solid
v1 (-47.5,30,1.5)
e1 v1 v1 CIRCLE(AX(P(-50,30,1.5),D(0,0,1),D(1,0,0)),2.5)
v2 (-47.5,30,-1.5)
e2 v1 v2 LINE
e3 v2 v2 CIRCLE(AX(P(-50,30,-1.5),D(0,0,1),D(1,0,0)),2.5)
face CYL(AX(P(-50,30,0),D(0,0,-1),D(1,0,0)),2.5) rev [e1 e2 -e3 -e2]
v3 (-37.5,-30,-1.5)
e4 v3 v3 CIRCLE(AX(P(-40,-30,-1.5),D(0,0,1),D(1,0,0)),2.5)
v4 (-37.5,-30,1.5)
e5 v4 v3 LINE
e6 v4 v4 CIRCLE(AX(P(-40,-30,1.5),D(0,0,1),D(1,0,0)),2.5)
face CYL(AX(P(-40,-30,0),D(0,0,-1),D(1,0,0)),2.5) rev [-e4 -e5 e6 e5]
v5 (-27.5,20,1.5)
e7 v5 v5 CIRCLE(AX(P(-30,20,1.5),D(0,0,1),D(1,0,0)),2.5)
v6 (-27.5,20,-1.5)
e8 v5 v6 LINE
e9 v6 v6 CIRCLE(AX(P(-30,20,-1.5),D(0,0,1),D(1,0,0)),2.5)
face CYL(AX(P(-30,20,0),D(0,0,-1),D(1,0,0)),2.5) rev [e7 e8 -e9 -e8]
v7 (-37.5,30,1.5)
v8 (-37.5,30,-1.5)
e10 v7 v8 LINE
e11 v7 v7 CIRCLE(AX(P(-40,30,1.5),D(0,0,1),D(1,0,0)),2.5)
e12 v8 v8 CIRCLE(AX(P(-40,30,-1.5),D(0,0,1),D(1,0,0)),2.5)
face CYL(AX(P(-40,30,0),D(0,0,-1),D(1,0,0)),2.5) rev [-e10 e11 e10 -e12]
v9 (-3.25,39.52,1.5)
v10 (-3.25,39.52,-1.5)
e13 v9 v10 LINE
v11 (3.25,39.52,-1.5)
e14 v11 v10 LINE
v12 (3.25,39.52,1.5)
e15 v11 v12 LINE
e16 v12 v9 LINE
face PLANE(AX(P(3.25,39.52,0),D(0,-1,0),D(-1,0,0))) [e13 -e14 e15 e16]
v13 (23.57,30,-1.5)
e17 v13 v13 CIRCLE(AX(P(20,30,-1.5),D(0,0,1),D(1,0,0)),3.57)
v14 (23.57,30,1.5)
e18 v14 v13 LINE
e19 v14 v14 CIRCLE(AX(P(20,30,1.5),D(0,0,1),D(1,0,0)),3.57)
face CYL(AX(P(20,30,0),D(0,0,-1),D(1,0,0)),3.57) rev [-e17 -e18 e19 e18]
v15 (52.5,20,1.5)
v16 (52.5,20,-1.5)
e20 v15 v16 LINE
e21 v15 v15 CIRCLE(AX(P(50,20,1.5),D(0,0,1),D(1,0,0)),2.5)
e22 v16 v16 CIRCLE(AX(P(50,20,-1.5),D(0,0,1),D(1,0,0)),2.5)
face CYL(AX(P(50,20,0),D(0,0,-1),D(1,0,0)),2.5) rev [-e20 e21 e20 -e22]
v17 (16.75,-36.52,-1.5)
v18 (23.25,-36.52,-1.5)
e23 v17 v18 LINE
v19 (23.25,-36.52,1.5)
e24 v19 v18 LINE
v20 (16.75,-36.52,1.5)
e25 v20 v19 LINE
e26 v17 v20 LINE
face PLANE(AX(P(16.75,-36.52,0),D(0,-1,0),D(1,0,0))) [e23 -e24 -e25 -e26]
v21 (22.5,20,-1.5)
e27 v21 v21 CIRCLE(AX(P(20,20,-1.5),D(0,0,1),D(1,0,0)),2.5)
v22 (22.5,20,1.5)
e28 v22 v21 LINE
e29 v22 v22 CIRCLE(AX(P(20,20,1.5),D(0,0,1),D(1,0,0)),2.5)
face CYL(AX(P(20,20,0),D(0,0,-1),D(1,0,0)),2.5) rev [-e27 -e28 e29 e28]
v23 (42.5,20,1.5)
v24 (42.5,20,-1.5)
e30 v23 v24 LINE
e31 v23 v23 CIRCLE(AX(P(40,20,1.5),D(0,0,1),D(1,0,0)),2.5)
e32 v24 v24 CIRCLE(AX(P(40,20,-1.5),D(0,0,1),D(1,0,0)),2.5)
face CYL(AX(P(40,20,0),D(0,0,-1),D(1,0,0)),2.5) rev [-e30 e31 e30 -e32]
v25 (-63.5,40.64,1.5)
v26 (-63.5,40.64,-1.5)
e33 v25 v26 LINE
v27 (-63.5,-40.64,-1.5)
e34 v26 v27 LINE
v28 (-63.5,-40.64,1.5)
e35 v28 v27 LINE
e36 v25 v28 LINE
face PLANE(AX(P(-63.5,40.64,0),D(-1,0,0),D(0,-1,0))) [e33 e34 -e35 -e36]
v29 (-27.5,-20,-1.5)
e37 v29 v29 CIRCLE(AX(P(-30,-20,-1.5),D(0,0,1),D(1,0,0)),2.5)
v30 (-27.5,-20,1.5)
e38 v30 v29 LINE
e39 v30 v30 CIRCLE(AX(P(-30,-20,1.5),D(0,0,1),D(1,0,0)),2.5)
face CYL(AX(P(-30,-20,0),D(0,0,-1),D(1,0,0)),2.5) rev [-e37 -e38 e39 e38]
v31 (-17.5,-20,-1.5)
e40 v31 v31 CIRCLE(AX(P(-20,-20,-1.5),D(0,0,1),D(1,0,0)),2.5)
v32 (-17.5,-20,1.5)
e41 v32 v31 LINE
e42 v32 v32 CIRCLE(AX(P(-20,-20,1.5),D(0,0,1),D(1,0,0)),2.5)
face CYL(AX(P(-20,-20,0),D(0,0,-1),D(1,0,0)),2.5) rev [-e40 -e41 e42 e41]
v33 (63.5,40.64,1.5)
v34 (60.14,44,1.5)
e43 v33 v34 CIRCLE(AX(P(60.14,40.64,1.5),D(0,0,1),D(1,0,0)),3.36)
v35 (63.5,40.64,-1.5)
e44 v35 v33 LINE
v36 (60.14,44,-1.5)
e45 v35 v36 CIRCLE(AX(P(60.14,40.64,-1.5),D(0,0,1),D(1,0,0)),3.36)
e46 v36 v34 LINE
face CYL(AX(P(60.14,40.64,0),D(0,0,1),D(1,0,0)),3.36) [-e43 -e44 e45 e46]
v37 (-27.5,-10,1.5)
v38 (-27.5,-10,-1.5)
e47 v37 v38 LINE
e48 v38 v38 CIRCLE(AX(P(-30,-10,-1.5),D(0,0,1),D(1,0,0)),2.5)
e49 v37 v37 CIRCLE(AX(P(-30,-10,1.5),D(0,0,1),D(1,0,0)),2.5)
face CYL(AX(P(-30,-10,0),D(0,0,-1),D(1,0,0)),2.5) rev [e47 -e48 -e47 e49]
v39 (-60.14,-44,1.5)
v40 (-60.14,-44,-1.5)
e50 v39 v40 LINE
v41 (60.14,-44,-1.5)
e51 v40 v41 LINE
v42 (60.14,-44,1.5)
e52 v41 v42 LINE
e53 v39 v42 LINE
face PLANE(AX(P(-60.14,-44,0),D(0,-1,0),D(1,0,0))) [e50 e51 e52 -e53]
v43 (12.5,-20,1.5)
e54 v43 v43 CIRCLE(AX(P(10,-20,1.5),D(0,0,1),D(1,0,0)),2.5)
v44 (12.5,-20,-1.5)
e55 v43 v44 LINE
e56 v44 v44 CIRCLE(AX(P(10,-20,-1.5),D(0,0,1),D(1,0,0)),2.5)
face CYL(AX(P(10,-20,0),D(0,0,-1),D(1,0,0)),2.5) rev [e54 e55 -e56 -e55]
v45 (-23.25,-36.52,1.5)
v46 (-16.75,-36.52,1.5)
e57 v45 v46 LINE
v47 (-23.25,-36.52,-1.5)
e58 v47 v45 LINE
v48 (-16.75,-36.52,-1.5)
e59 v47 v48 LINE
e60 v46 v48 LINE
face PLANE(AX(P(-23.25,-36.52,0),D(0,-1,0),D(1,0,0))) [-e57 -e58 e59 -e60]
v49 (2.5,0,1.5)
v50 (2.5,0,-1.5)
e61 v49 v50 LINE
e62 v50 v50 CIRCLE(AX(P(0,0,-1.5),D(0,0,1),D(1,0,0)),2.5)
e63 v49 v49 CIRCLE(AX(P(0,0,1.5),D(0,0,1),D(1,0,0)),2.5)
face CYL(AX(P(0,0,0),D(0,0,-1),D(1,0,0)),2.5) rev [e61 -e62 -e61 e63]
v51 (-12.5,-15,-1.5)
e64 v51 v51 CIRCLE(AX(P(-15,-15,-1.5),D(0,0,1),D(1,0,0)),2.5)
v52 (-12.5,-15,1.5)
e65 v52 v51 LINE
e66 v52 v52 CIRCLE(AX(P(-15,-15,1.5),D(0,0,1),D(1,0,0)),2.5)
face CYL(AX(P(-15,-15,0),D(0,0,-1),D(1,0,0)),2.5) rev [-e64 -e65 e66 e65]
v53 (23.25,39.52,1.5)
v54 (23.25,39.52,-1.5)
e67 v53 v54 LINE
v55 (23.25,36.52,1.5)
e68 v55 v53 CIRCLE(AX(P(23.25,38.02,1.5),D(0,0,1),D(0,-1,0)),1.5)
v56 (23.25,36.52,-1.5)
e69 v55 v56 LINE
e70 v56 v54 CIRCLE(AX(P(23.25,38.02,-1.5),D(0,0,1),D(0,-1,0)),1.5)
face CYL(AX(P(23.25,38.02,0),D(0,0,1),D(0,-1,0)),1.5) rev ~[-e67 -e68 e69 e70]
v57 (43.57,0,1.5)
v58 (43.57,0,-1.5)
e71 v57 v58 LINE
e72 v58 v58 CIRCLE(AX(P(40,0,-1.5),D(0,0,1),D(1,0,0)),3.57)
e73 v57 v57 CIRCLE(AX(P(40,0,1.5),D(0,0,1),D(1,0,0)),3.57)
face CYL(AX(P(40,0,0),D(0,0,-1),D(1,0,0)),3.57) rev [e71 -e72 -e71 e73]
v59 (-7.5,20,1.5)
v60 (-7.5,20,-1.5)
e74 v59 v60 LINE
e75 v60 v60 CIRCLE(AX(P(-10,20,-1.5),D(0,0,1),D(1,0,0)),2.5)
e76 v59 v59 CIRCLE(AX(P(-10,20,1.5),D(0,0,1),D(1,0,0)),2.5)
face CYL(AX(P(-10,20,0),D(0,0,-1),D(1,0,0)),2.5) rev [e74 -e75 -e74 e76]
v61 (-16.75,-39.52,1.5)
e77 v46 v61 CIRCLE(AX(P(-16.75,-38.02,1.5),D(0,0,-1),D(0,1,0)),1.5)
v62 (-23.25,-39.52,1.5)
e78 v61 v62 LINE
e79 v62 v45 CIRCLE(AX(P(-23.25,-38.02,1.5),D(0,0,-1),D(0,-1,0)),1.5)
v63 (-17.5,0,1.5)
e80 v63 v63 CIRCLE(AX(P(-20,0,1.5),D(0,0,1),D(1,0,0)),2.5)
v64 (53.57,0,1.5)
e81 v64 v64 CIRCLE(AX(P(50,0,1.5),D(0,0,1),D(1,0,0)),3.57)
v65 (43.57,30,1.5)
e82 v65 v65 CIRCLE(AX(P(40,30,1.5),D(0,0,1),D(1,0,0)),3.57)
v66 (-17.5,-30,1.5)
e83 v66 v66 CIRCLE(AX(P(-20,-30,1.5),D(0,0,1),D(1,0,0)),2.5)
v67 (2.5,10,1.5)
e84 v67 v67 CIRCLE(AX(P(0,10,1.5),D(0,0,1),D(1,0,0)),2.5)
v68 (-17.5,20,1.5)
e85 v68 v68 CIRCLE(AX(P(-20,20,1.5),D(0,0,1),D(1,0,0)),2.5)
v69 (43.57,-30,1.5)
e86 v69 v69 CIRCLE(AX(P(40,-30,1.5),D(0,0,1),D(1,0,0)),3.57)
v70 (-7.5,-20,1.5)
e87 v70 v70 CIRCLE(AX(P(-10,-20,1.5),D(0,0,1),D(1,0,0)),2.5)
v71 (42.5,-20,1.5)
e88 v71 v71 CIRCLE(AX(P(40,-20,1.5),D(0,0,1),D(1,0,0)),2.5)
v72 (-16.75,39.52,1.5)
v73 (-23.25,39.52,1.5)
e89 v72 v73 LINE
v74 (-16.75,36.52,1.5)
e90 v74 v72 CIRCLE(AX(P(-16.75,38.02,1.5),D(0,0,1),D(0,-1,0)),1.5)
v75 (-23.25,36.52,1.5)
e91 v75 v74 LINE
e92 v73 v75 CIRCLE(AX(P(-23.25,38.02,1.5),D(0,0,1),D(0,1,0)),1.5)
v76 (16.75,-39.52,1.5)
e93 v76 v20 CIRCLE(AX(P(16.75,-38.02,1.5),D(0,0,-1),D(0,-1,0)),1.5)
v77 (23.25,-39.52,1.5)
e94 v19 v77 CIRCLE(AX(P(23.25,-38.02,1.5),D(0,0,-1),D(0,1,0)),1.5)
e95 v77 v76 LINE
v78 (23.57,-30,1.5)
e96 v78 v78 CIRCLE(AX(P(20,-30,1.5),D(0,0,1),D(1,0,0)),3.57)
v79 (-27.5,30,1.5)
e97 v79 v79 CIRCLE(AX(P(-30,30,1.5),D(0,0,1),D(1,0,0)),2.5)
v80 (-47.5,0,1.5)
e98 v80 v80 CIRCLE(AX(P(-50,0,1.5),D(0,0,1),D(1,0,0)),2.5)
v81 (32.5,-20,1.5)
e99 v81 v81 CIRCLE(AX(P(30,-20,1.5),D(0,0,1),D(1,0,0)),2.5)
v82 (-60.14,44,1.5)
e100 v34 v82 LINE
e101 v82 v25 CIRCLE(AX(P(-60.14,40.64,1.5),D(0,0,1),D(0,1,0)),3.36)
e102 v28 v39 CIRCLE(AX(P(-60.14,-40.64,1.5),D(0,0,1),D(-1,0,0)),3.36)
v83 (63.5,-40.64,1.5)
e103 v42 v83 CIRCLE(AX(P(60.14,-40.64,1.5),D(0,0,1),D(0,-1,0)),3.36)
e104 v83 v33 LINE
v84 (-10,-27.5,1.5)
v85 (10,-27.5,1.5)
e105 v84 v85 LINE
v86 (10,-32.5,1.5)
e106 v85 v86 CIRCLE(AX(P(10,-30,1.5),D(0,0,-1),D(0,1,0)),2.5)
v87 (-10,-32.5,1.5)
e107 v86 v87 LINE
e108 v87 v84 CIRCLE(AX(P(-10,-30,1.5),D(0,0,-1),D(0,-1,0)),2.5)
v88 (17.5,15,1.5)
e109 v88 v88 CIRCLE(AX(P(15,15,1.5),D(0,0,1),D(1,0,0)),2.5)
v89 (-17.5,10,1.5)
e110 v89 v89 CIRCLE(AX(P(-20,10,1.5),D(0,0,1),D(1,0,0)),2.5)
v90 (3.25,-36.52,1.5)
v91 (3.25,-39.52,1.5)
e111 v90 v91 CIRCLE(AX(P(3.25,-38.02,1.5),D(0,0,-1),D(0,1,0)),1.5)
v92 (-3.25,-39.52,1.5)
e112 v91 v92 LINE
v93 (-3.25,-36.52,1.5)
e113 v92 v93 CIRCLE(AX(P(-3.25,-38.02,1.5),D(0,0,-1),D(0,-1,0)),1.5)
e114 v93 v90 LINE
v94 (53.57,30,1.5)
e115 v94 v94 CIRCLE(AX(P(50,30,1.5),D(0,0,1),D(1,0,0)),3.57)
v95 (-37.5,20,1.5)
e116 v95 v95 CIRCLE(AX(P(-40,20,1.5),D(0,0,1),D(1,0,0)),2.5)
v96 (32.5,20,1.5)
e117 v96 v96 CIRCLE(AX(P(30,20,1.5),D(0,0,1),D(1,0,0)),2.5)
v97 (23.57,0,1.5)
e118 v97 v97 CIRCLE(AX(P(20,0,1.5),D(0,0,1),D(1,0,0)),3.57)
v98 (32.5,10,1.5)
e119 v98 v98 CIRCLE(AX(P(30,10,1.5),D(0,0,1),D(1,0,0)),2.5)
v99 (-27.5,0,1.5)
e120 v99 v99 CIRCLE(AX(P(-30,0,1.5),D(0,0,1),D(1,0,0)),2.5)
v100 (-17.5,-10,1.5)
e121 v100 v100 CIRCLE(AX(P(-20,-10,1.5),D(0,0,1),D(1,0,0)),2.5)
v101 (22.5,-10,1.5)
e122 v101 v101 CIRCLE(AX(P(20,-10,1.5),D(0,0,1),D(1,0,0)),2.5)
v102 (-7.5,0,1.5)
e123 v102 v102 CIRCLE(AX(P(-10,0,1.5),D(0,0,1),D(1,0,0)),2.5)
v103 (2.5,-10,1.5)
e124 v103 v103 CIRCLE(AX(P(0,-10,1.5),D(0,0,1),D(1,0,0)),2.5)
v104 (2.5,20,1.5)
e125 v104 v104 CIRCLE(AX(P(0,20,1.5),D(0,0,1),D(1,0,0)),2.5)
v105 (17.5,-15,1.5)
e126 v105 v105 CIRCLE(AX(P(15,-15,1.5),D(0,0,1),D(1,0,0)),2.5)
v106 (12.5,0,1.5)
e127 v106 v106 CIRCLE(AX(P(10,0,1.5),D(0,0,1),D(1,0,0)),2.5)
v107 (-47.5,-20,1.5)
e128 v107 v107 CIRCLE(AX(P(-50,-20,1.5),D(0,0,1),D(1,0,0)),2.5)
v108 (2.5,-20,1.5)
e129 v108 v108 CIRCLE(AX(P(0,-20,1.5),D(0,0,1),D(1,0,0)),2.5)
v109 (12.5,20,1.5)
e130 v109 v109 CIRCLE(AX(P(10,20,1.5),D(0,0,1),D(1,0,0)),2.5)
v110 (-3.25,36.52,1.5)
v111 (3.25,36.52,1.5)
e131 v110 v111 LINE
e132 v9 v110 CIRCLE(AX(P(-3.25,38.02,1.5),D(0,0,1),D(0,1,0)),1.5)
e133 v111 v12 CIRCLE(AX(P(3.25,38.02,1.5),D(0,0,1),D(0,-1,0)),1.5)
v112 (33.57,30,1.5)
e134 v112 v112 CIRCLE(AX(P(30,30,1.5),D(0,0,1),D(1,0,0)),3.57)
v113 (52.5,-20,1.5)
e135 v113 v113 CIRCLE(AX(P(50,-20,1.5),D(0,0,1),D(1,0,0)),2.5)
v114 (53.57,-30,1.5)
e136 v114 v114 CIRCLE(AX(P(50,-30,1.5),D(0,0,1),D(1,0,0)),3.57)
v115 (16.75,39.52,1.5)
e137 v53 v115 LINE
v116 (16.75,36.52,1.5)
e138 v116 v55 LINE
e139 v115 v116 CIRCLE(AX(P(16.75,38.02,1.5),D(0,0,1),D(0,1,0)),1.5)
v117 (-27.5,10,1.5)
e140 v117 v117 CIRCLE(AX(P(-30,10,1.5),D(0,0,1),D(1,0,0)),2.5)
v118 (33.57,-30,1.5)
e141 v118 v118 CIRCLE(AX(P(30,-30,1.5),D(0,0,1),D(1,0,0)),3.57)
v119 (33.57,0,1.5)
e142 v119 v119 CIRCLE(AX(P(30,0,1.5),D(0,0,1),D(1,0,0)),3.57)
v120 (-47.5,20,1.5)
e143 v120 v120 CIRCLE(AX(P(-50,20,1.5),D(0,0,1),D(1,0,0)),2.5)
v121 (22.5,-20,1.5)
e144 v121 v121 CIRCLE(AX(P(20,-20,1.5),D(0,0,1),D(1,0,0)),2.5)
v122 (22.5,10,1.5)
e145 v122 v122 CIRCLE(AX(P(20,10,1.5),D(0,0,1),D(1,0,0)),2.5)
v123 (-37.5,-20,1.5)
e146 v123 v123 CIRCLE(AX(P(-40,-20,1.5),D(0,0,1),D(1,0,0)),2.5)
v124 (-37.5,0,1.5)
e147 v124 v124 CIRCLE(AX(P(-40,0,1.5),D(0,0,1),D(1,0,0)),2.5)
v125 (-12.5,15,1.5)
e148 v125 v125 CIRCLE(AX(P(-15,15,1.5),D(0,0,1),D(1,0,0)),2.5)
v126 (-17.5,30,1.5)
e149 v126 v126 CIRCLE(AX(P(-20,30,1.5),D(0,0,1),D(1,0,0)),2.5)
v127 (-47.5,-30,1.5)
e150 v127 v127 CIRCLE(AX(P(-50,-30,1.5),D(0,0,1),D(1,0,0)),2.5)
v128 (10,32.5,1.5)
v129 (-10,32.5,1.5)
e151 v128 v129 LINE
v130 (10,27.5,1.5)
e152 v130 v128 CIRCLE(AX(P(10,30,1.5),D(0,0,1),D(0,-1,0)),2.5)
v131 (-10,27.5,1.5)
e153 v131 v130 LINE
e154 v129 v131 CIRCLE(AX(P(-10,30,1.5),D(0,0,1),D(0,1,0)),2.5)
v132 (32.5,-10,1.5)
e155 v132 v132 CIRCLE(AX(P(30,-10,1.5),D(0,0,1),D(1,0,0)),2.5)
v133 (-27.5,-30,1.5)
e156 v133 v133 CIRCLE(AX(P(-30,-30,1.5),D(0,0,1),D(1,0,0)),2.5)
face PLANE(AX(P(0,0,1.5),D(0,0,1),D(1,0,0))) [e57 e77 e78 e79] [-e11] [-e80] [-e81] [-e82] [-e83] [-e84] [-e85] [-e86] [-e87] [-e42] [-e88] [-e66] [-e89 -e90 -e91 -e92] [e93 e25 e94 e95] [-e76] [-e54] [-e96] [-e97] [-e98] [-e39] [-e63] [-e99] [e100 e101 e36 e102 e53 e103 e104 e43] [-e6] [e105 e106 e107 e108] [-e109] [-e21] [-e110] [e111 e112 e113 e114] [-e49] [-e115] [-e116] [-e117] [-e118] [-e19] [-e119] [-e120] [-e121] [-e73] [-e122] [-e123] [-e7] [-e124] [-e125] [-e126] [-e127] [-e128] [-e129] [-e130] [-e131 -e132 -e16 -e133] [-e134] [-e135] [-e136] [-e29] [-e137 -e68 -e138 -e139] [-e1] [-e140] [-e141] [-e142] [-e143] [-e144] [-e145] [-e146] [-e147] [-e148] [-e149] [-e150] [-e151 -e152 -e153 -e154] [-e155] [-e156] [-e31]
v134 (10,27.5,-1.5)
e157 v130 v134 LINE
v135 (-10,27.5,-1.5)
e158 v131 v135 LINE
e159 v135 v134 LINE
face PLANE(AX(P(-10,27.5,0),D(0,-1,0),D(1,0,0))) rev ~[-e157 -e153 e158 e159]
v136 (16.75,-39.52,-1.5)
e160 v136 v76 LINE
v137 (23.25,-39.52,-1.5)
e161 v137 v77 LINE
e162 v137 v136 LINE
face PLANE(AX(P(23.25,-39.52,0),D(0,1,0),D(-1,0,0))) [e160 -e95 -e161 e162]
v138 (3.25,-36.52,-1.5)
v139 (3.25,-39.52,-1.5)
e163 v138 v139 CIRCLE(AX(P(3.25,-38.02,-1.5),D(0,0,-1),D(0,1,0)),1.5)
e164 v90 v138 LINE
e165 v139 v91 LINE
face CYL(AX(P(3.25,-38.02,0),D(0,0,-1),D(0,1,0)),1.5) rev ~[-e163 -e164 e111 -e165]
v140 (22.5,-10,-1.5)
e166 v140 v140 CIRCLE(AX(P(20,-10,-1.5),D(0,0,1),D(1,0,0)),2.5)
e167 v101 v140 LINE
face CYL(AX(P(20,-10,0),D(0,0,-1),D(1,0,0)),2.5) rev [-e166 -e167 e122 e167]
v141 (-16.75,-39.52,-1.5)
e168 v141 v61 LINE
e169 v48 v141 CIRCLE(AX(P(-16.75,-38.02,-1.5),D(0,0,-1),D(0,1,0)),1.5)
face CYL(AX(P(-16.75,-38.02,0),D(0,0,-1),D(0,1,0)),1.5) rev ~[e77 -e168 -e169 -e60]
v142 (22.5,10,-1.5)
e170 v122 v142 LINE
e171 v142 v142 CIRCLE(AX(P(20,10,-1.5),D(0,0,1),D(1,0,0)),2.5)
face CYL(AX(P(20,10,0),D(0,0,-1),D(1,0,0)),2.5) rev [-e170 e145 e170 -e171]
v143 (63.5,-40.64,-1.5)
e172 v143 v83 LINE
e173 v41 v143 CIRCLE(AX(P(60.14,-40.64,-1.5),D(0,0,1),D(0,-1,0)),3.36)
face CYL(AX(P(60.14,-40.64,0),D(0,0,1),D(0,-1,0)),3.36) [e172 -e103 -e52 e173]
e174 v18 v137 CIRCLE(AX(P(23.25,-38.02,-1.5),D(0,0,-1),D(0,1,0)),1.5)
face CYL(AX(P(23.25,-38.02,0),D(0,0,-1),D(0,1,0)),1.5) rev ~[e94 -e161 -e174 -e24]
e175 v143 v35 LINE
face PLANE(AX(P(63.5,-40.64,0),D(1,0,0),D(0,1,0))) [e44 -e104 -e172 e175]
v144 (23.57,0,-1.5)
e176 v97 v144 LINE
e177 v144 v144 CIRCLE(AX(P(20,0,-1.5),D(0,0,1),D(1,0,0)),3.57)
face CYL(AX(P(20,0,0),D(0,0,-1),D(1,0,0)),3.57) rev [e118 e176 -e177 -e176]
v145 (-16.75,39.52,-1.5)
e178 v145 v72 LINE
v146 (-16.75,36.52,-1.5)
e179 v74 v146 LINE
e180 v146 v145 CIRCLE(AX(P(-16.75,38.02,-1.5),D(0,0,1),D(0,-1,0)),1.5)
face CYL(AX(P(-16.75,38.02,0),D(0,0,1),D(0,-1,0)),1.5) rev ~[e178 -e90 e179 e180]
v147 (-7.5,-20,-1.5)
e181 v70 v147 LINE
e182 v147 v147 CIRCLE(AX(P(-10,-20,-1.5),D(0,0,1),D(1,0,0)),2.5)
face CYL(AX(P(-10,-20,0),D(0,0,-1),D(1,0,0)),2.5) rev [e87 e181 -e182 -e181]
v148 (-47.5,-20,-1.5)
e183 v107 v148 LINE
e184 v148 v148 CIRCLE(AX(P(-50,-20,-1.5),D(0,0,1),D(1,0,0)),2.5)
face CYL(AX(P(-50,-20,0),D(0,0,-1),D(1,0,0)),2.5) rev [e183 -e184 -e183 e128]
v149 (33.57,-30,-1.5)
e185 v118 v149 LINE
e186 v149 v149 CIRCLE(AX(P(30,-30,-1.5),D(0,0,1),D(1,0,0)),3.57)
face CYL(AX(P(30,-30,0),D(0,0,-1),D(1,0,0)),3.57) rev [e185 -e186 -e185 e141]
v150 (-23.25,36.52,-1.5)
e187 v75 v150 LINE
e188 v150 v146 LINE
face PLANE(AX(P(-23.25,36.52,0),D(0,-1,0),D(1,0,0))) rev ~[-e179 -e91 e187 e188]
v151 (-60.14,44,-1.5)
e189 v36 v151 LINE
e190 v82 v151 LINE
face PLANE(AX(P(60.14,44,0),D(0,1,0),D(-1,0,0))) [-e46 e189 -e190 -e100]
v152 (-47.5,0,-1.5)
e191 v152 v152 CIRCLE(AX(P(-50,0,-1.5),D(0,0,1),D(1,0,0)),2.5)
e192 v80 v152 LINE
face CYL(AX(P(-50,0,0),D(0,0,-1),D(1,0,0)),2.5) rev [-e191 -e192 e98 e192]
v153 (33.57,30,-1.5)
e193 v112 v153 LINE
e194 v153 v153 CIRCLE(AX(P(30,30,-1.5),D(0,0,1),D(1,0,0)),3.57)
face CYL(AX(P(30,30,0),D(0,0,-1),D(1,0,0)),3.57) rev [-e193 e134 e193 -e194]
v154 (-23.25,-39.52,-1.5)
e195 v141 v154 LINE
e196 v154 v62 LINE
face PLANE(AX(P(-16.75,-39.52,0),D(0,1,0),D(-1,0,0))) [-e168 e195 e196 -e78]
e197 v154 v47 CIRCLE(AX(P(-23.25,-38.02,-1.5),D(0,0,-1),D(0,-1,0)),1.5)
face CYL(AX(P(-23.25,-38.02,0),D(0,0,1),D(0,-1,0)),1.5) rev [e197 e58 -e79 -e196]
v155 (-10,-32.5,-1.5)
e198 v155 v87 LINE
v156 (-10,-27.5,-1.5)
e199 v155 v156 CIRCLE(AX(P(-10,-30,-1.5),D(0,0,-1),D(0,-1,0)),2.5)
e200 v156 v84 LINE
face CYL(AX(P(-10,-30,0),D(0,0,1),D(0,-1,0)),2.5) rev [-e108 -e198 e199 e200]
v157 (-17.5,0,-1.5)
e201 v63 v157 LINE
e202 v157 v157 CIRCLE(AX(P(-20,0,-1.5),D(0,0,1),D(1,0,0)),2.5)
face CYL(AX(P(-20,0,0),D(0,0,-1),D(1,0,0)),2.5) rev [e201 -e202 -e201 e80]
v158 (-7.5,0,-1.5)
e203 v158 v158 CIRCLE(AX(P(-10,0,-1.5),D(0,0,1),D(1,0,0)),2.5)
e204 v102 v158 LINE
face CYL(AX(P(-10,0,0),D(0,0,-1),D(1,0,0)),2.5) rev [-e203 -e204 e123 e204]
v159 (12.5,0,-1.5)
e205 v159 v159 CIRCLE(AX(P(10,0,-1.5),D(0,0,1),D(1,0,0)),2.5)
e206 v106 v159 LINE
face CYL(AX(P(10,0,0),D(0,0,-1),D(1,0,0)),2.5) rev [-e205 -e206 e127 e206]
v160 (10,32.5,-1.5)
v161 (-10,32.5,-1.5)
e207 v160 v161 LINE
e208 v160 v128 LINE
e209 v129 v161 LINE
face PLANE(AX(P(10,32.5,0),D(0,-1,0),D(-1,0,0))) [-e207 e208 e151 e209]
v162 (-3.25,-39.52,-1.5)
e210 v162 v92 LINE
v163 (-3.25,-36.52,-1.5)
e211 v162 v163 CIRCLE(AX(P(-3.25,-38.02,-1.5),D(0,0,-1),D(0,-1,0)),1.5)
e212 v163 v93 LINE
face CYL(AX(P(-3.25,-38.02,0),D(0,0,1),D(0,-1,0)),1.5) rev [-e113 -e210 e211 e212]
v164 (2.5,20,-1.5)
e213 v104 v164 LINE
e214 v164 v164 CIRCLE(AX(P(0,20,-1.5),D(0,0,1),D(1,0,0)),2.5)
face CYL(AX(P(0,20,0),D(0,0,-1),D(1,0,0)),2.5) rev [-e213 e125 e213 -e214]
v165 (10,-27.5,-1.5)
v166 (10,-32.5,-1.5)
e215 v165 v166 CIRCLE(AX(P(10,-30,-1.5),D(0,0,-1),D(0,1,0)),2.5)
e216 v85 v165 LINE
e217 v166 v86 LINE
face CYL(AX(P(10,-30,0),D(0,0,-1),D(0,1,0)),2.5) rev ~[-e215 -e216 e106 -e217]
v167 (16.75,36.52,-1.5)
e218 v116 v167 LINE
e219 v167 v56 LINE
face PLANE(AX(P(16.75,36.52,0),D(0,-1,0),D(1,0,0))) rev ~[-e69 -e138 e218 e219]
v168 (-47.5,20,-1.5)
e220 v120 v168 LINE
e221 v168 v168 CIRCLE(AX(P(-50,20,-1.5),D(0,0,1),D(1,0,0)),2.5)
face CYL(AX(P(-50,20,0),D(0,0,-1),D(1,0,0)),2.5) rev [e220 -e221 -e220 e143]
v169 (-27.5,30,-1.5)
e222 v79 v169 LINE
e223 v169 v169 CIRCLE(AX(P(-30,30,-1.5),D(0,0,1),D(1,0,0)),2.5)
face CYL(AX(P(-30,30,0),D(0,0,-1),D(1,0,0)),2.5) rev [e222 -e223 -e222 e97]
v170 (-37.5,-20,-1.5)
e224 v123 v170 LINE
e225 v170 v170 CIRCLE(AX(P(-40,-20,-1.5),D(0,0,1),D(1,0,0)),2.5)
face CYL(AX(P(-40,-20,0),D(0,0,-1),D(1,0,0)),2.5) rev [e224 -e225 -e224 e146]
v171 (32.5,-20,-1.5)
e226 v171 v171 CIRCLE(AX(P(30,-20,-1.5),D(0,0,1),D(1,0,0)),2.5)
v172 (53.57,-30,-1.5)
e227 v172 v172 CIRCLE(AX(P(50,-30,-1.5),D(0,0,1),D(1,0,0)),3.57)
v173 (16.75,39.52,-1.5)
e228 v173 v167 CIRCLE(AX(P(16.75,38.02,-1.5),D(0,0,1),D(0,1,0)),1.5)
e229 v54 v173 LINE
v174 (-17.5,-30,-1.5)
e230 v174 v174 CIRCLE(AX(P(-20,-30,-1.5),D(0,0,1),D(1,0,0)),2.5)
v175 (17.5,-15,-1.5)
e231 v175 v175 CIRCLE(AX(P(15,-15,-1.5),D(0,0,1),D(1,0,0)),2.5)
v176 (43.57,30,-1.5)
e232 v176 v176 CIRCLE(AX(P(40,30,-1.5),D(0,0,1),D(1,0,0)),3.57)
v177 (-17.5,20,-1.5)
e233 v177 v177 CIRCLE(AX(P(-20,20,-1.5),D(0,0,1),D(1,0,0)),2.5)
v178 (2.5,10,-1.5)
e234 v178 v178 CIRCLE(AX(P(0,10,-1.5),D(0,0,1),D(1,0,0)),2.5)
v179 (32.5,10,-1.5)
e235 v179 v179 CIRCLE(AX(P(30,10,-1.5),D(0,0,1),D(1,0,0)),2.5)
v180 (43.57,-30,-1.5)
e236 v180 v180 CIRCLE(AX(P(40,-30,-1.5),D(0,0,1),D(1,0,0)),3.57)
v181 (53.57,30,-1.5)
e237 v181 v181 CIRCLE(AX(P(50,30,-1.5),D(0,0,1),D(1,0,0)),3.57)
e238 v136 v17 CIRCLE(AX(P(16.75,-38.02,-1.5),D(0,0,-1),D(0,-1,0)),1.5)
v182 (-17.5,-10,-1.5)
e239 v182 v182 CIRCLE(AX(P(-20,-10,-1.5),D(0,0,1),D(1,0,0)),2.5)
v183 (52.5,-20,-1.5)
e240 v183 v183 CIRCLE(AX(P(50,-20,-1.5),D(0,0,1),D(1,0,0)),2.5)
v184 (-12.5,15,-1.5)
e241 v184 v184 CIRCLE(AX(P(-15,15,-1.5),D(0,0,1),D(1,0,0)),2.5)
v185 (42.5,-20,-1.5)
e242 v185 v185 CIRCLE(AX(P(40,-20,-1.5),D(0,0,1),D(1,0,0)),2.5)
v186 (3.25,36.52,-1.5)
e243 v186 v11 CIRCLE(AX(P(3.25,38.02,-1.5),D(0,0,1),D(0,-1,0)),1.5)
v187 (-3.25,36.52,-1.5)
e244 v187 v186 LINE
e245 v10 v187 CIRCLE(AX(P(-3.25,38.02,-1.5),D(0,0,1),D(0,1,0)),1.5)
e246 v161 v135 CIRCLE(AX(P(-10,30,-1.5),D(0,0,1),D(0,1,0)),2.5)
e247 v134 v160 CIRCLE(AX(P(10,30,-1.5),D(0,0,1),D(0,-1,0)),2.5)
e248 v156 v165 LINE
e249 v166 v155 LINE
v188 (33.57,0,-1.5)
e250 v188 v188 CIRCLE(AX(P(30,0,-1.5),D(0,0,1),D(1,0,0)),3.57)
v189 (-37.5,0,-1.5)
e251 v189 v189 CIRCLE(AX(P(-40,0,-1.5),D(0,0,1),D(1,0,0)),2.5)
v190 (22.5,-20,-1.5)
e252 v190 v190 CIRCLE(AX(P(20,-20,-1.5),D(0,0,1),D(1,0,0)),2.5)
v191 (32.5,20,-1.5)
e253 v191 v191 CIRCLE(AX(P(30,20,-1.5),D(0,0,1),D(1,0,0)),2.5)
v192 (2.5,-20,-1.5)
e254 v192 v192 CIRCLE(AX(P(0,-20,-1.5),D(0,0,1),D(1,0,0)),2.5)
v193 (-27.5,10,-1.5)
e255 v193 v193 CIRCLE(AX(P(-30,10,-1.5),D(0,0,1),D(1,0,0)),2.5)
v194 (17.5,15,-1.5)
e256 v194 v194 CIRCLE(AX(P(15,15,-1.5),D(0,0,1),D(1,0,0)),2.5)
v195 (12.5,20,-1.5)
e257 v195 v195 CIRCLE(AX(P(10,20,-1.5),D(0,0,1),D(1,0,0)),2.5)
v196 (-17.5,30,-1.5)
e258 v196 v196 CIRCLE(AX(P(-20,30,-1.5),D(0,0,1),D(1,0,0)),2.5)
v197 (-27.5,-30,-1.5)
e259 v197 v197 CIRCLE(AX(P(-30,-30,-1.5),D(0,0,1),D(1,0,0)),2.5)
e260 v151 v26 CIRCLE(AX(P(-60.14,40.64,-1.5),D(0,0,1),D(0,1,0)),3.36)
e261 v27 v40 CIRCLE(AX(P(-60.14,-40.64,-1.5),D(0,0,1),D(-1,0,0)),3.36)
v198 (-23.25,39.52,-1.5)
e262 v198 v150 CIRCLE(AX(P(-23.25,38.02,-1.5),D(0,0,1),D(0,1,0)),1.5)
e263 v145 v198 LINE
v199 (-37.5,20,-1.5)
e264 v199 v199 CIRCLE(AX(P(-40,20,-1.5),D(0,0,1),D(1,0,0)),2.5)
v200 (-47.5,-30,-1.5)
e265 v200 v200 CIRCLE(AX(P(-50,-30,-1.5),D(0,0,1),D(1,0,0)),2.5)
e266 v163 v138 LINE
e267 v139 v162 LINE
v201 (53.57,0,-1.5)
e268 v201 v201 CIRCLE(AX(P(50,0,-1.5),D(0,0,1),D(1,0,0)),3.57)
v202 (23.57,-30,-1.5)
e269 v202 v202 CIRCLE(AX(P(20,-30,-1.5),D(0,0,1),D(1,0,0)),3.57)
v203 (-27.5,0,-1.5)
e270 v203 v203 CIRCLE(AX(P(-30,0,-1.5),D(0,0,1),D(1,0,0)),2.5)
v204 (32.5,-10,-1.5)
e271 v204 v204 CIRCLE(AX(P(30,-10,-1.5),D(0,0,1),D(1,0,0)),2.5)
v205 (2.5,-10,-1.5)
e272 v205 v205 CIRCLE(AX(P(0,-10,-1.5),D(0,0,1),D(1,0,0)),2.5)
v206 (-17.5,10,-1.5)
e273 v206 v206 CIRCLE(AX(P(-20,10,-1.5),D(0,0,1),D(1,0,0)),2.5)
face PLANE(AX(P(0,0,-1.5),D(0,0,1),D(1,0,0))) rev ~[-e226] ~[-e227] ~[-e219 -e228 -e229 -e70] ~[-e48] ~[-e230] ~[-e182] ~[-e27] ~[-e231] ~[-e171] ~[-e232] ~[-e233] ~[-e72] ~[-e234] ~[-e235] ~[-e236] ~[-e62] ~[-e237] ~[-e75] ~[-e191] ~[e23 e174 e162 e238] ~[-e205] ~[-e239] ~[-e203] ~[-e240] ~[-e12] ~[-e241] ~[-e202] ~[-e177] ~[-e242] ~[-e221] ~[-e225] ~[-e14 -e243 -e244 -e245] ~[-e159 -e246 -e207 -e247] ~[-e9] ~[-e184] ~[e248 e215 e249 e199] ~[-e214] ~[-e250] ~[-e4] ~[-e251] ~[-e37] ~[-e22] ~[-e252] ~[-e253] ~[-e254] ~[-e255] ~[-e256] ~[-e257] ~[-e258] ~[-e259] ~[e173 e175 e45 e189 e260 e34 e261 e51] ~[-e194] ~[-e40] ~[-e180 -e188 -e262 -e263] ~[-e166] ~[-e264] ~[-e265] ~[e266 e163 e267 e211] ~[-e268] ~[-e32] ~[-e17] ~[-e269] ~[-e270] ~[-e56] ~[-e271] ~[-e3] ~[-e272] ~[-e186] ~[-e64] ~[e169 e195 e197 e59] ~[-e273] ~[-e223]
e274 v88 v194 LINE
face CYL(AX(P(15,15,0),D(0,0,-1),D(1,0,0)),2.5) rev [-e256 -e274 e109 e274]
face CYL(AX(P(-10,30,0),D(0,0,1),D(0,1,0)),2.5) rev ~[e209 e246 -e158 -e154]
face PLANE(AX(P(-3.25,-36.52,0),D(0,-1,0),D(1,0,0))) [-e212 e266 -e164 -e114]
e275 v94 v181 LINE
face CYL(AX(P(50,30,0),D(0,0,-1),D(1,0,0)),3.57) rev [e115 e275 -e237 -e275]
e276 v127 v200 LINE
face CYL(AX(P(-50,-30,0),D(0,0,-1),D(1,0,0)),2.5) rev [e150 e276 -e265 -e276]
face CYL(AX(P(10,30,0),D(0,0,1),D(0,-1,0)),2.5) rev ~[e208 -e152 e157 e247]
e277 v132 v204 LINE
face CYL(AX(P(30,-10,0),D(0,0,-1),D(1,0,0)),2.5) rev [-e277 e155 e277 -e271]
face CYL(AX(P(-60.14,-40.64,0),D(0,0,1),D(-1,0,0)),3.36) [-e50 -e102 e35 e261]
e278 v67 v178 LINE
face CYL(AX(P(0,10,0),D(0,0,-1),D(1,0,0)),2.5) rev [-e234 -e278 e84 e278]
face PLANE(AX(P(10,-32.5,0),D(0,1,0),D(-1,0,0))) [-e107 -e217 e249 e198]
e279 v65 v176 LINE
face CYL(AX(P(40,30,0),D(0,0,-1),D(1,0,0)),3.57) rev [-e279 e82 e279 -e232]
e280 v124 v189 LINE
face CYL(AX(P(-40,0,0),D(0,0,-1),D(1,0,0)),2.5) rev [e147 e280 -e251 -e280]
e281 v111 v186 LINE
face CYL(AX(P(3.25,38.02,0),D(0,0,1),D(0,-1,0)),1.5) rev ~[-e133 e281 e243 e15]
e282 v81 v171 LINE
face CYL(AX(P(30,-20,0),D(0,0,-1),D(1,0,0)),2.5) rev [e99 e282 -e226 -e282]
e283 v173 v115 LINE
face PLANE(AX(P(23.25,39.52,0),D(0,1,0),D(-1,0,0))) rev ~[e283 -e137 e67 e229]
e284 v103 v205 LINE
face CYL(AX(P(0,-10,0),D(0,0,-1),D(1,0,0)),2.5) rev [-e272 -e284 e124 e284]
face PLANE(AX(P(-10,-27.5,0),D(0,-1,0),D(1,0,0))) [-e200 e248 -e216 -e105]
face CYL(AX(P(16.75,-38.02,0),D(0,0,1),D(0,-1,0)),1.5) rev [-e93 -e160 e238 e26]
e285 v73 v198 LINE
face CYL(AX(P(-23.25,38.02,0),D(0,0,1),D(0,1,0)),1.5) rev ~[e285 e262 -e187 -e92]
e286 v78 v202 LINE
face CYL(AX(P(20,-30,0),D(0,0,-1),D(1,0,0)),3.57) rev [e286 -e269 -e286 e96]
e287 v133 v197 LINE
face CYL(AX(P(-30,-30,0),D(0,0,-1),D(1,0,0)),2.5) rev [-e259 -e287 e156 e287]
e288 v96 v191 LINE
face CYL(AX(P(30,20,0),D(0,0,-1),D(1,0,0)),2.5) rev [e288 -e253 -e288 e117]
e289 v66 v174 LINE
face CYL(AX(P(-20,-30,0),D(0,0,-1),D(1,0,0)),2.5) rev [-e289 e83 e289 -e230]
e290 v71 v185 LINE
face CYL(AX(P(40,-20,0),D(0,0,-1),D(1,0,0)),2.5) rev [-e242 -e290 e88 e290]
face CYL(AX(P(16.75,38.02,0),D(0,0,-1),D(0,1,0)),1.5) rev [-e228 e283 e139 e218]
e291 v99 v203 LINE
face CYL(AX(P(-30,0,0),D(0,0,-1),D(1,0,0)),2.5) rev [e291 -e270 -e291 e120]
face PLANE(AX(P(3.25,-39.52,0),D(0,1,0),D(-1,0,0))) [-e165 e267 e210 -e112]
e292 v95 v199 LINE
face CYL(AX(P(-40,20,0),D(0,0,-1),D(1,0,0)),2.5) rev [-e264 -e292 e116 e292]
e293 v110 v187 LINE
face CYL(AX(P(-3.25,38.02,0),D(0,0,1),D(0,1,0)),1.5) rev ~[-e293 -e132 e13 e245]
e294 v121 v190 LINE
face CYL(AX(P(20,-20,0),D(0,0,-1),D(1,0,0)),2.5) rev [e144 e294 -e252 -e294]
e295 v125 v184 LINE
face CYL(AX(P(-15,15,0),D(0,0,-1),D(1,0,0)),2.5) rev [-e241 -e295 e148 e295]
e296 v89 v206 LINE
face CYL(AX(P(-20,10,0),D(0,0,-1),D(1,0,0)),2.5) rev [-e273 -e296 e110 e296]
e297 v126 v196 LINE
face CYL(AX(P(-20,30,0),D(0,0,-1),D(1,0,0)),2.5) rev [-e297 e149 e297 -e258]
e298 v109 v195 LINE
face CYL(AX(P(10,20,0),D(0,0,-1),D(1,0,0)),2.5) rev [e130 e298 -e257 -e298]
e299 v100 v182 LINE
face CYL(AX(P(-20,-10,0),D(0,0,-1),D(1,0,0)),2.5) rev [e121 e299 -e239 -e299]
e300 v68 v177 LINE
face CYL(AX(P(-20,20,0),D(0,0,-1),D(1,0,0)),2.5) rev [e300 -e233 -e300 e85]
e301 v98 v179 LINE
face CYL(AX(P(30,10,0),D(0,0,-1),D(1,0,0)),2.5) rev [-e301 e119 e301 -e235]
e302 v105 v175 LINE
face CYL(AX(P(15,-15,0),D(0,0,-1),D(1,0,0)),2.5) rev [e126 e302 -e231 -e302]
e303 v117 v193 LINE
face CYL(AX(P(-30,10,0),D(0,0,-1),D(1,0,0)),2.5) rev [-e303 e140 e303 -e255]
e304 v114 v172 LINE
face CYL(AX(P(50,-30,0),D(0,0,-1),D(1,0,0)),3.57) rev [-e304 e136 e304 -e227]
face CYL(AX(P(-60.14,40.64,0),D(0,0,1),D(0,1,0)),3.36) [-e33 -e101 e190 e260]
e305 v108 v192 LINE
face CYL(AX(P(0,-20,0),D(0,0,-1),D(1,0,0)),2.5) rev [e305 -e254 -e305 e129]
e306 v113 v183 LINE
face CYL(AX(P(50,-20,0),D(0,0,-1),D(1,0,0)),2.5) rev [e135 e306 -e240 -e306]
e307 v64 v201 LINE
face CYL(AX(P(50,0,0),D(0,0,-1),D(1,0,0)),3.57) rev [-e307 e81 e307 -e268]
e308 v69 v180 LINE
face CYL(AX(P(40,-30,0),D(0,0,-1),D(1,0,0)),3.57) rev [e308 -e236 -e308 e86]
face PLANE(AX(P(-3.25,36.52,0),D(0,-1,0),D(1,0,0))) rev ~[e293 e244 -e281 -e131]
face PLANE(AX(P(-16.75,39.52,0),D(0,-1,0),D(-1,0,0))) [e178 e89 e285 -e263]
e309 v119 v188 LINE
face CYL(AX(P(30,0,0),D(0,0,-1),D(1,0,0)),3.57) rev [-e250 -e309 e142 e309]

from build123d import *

# Parameters (mm, degrees)
SKETCH1_R           = 2.5
SKETCH1_R_2         = 3.57
BOSS_EXTRUDE1_DEPTH = 1.5


with BuildPart() as part:
    # Sketch1 → Boss-Extrude1 (new body, symmetric)
    with BuildSketch(Plane.XY):
        with BuildLine():
            Line((-60.14, -44), (60.14, -44))
            ThreePointArc((60.14, -44), (62.515878785, -43.015878785), (63.5, -40.64))
            Line((63.5, -40.64), (63.5, 40.64))
            ThreePointArc((63.5, 40.64), (62.515878785, 43.015878785), (60.14, 44))
            Line((60.14, 44), (-60.14, 44))
            ThreePointArc((-60.14, 44), (-62.515878785, 43.015878785), (-63.5, 40.64))
            Line((-63.5, 40.64), (-63.5, -40.64))
            ThreePointArc((-63.5, -40.64), (-62.515878785, -43.015878785), (-60.14, -44))
        make_face()
        with Locations((0, -20)):
            Circle(SKETCH1_R, mode=Mode.SUBTRACT)
        with Locations((10, -20)):
            Circle(SKETCH1_R, mode=Mode.SUBTRACT)
        with Locations((20, -20)):
            Circle(SKETCH1_R, mode=Mode.SUBTRACT)
        with Locations((30, -20)):
            Circle(SKETCH1_R, mode=Mode.SUBTRACT)
        with Locations((40, -20)):
            Circle(SKETCH1_R, mode=Mode.SUBTRACT)
        with Locations((50, -20)):
            Circle(SKETCH1_R, mode=Mode.SUBTRACT)
        with Locations((-10, -20)):
            Circle(SKETCH1_R, mode=Mode.SUBTRACT)
        with Locations((-20, -20)):
            Circle(SKETCH1_R, mode=Mode.SUBTRACT)
        with Locations((-30, -20)):
            Circle(SKETCH1_R, mode=Mode.SUBTRACT)
        with Locations((-40, -20)):
            Circle(SKETCH1_R, mode=Mode.SUBTRACT)
        with Locations((-50, -20)):
            Circle(SKETCH1_R, mode=Mode.SUBTRACT)
        with Locations((-50, -30)):
            Circle(SKETCH1_R, mode=Mode.SUBTRACT)
        with Locations((-40, -30)):
            Circle(SKETCH1_R, mode=Mode.SUBTRACT)
        with Locations((-30, -30)):
            Circle(SKETCH1_R, mode=Mode.SUBTRACT)
        with Locations((-20, -30)):
            Circle(SKETCH1_R, mode=Mode.SUBTRACT)
        with Locations((50, -30)):
            Circle(SKETCH1_R_2, mode=Mode.SUBTRACT)
        with Locations((40, -30)):
            Circle(SKETCH1_R_2, mode=Mode.SUBTRACT)
        with Locations((30, -30)):
            Circle(SKETCH1_R_2, mode=Mode.SUBTRACT)
        with Locations((20, -30)):
            Circle(SKETCH1_R_2, mode=Mode.SUBTRACT)
        with Locations((-50, 0)):
            Circle(SKETCH1_R, mode=Mode.SUBTRACT)
        with Locations((-40, 0)):
            Circle(SKETCH1_R, mode=Mode.SUBTRACT)
        with Locations((-30, 0)):
            Circle(SKETCH1_R, mode=Mode.SUBTRACT)
        with Locations((-20, 0)):
            Circle(SKETCH1_R, mode=Mode.SUBTRACT)
        with Locations((-10, 0)):
            Circle(SKETCH1_R, mode=Mode.SUBTRACT)
        Circle(SKETCH1_R, mode=Mode.SUBTRACT)
        with Locations((10, 0)):
            Circle(SKETCH1_R, mode=Mode.SUBTRACT)
        with Locations((20, 0)):
            Circle(SKETCH1_R_2, mode=Mode.SUBTRACT)
        with Locations((30, 0)):
            Circle(SKETCH1_R_2, mode=Mode.SUBTRACT)
        with Locations((40, 0)):
            Circle(SKETCH1_R_2, mode=Mode.SUBTRACT)
        with Locations((50, 0)):
            Circle(SKETCH1_R_2, mode=Mode.SUBTRACT)
        with Locations((-30, -10)):
            Circle(SKETCH1_R, mode=Mode.SUBTRACT)
        with Locations((-20, -10)):
            Circle(SKETCH1_R, mode=Mode.SUBTRACT)
        with Locations((20, -10)):
            Circle(SKETCH1_R, mode=Mode.SUBTRACT)
        with Locations((30, -10)):
            Circle(SKETCH1_R, mode=Mode.SUBTRACT)
        with Locations((0, -10)):
            Circle(SKETCH1_R, mode=Mode.SUBTRACT)
        with Locations((-15, -15)):
            Circle(SKETCH1_R, mode=Mode.SUBTRACT)
        with Locations((15, -15)):
            Circle(SKETCH1_R, mode=Mode.SUBTRACT)
        with Locations((15, 15)):
            Circle(SKETCH1_R, mode=Mode.SUBTRACT)
        with Locations((-15, 15)):
            Circle(SKETCH1_R, mode=Mode.SUBTRACT)
        with Locations((0, 10)):
            Circle(SKETCH1_R, mode=Mode.SUBTRACT)
        with Locations((30, 10)):
            Circle(SKETCH1_R, mode=Mode.SUBTRACT)
        with Locations((20, 10)):
            Circle(SKETCH1_R, mode=Mode.SUBTRACT)
        with Locations((-20, 10)):
            Circle(SKETCH1_R, mode=Mode.SUBTRACT)
        with Locations((-30, 10)):
            Circle(SKETCH1_R, mode=Mode.SUBTRACT)
        with Locations((20, 30)):
            Circle(SKETCH1_R_2, mode=Mode.SUBTRACT)
        with Locations((30, 30)):
            Circle(SKETCH1_R_2, mode=Mode.SUBTRACT)
        with Locations((40, 30)):
            Circle(SKETCH1_R_2, mode=Mode.SUBTRACT)
        with Locations((50, 30)):
            Circle(SKETCH1_R_2, mode=Mode.SUBTRACT)
        with Locations((-20, 30)):
            Circle(SKETCH1_R, mode=Mode.SUBTRACT)
        with Locations((-30, 30)):
            Circle(SKETCH1_R, mode=Mode.SUBTRACT)
        with Locations((-40, 30)):
            Circle(SKETCH1_R, mode=Mode.SUBTRACT)
        with Locations((-50, 30)):
            Circle(SKETCH1_R, mode=Mode.SUBTRACT)
        with Locations((-50, 20)):
            Circle(SKETCH1_R, mode=Mode.SUBTRACT)
        with Locations((-40, 20)):
            Circle(SKETCH1_R, mode=Mode.SUBTRACT)
        with Locations((-30, 20)):
            Circle(SKETCH1_R, mode=Mode.SUBTRACT)
        with Locations((-20, 20)):
            Circle(SKETCH1_R, mode=Mode.SUBTRACT)
        with Locations((-10, 20)):
            Circle(SKETCH1_R, mode=Mode.SUBTRACT)
        with Locations((50, 20)):
            Circle(SKETCH1_R, mode=Mode.SUBTRACT)
        with Locations((40, 20)):
            Circle(SKETCH1_R, mode=Mode.SUBTRACT)
        with Locations((30, 20)):
            Circle(SKETCH1_R, mode=Mode.SUBTRACT)
        with Locations((20, 20)):
            Circle(SKETCH1_R, mode=Mode.SUBTRACT)
        with Locations((10, 20)):
            Circle(SKETCH1_R, mode=Mode.SUBTRACT)
        with Locations((0, 20)):
            Circle(SKETCH1_R, mode=Mode.SUBTRACT)
        with BuildLine():
            Line((-10, -27.5), (10, -27.5))
            ThreePointArc((10, -27.5), (12.5, -30), (10, -32.5))
            Line((10, -32.5), (-10, -32.5))
            ThreePointArc((-10, -32.5), (-12.5, -30), (-10, -27.5))
        make_face(mode=Mode.SUBTRACT)
        with BuildLine():
            Line((-23.25, -36.52), (-16.75, -36.52))
            ThreePointArc((-16.75, -36.52), (-15.25, -38.02), (-16.75, -39.52))
            Line((-16.75, -39.52), (-23.25, -39.52))
            ThreePointArc((-23.25, -39.52), (-24.75, -38.02), (-23.25, -36.52))
        make_face(mode=Mode.SUBTRACT)
        with BuildLine():
            Line((-3.25, -36.52), (3.25, -36.52))
            ThreePointArc((3.25, -36.52), (4.75, -38.02), (3.25, -39.52))
            Line((3.25, -39.52), (-3.25, -39.52))
            ThreePointArc((-3.25, -39.52), (-4.75, -38.02), (-3.25, -36.52))
        make_face(mode=Mode.SUBTRACT)
        with BuildLine():
            Line((16.75, -36.52), (23.25, -36.52))
            ThreePointArc((23.25, -36.52), (24.75, -38.02), (23.25, -39.52))
            Line((23.25, -39.52), (16.75, -39.52))
            ThreePointArc((16.75, -39.52), (15.25, -38.02), (16.75, -36.52))
        make_face(mode=Mode.SUBTRACT)
        with BuildLine():
            Line((-10, 27.5), (10, 27.5))
            ThreePointArc((10, 27.5), (12.5, 30), (10, 32.5))
            Line((10, 32.5), (-10, 32.5))
            ThreePointArc((-10, 32.5), (-12.5, 30), (-10, 27.5))
        make_face(mode=Mode.SUBTRACT)
        with BuildLine():
            Line((-23.25, 36.52), (-16.75, 36.52))
            ThreePointArc((-16.75, 36.52), (-15.25, 38.02), (-16.75, 39.52))
            Line((-16.75, 39.52), (-23.25, 39.52))
            ThreePointArc((-23.25, 39.52), (-24.75, 38.02), (-23.25, 36.52))
        make_face(mode=Mode.SUBTRACT)
        with BuildLine():
            Line((-3.25, 36.52), (3.25, 36.52))
            ThreePointArc((3.25, 36.52), (4.75, 38.02), (3.25, 39.52))
            Line((3.25, 39.52), (-3.25, 39.52))
            ThreePointArc((-3.25, 39.52), (-4.75, 38.02), (-3.25, 36.52))
        make_face(mode=Mode.SUBTRACT)
        with BuildLine():
            Line((16.75, 36.52), (23.25, 36.52))
            ThreePointArc((23.25, 36.52), (24.75, 38.02), (23.25, 39.52))
            Line((23.25, 39.52), (16.75, 39.52))
            ThreePointArc((16.75, 39.52), (15.25, 38.02), (16.75, 36.52))
        make_face(mode=Mode.SUBTRACT)
    extrude(amount=BOSS_EXTRUDE1_DEPTH, both=True)


solid = part.part
